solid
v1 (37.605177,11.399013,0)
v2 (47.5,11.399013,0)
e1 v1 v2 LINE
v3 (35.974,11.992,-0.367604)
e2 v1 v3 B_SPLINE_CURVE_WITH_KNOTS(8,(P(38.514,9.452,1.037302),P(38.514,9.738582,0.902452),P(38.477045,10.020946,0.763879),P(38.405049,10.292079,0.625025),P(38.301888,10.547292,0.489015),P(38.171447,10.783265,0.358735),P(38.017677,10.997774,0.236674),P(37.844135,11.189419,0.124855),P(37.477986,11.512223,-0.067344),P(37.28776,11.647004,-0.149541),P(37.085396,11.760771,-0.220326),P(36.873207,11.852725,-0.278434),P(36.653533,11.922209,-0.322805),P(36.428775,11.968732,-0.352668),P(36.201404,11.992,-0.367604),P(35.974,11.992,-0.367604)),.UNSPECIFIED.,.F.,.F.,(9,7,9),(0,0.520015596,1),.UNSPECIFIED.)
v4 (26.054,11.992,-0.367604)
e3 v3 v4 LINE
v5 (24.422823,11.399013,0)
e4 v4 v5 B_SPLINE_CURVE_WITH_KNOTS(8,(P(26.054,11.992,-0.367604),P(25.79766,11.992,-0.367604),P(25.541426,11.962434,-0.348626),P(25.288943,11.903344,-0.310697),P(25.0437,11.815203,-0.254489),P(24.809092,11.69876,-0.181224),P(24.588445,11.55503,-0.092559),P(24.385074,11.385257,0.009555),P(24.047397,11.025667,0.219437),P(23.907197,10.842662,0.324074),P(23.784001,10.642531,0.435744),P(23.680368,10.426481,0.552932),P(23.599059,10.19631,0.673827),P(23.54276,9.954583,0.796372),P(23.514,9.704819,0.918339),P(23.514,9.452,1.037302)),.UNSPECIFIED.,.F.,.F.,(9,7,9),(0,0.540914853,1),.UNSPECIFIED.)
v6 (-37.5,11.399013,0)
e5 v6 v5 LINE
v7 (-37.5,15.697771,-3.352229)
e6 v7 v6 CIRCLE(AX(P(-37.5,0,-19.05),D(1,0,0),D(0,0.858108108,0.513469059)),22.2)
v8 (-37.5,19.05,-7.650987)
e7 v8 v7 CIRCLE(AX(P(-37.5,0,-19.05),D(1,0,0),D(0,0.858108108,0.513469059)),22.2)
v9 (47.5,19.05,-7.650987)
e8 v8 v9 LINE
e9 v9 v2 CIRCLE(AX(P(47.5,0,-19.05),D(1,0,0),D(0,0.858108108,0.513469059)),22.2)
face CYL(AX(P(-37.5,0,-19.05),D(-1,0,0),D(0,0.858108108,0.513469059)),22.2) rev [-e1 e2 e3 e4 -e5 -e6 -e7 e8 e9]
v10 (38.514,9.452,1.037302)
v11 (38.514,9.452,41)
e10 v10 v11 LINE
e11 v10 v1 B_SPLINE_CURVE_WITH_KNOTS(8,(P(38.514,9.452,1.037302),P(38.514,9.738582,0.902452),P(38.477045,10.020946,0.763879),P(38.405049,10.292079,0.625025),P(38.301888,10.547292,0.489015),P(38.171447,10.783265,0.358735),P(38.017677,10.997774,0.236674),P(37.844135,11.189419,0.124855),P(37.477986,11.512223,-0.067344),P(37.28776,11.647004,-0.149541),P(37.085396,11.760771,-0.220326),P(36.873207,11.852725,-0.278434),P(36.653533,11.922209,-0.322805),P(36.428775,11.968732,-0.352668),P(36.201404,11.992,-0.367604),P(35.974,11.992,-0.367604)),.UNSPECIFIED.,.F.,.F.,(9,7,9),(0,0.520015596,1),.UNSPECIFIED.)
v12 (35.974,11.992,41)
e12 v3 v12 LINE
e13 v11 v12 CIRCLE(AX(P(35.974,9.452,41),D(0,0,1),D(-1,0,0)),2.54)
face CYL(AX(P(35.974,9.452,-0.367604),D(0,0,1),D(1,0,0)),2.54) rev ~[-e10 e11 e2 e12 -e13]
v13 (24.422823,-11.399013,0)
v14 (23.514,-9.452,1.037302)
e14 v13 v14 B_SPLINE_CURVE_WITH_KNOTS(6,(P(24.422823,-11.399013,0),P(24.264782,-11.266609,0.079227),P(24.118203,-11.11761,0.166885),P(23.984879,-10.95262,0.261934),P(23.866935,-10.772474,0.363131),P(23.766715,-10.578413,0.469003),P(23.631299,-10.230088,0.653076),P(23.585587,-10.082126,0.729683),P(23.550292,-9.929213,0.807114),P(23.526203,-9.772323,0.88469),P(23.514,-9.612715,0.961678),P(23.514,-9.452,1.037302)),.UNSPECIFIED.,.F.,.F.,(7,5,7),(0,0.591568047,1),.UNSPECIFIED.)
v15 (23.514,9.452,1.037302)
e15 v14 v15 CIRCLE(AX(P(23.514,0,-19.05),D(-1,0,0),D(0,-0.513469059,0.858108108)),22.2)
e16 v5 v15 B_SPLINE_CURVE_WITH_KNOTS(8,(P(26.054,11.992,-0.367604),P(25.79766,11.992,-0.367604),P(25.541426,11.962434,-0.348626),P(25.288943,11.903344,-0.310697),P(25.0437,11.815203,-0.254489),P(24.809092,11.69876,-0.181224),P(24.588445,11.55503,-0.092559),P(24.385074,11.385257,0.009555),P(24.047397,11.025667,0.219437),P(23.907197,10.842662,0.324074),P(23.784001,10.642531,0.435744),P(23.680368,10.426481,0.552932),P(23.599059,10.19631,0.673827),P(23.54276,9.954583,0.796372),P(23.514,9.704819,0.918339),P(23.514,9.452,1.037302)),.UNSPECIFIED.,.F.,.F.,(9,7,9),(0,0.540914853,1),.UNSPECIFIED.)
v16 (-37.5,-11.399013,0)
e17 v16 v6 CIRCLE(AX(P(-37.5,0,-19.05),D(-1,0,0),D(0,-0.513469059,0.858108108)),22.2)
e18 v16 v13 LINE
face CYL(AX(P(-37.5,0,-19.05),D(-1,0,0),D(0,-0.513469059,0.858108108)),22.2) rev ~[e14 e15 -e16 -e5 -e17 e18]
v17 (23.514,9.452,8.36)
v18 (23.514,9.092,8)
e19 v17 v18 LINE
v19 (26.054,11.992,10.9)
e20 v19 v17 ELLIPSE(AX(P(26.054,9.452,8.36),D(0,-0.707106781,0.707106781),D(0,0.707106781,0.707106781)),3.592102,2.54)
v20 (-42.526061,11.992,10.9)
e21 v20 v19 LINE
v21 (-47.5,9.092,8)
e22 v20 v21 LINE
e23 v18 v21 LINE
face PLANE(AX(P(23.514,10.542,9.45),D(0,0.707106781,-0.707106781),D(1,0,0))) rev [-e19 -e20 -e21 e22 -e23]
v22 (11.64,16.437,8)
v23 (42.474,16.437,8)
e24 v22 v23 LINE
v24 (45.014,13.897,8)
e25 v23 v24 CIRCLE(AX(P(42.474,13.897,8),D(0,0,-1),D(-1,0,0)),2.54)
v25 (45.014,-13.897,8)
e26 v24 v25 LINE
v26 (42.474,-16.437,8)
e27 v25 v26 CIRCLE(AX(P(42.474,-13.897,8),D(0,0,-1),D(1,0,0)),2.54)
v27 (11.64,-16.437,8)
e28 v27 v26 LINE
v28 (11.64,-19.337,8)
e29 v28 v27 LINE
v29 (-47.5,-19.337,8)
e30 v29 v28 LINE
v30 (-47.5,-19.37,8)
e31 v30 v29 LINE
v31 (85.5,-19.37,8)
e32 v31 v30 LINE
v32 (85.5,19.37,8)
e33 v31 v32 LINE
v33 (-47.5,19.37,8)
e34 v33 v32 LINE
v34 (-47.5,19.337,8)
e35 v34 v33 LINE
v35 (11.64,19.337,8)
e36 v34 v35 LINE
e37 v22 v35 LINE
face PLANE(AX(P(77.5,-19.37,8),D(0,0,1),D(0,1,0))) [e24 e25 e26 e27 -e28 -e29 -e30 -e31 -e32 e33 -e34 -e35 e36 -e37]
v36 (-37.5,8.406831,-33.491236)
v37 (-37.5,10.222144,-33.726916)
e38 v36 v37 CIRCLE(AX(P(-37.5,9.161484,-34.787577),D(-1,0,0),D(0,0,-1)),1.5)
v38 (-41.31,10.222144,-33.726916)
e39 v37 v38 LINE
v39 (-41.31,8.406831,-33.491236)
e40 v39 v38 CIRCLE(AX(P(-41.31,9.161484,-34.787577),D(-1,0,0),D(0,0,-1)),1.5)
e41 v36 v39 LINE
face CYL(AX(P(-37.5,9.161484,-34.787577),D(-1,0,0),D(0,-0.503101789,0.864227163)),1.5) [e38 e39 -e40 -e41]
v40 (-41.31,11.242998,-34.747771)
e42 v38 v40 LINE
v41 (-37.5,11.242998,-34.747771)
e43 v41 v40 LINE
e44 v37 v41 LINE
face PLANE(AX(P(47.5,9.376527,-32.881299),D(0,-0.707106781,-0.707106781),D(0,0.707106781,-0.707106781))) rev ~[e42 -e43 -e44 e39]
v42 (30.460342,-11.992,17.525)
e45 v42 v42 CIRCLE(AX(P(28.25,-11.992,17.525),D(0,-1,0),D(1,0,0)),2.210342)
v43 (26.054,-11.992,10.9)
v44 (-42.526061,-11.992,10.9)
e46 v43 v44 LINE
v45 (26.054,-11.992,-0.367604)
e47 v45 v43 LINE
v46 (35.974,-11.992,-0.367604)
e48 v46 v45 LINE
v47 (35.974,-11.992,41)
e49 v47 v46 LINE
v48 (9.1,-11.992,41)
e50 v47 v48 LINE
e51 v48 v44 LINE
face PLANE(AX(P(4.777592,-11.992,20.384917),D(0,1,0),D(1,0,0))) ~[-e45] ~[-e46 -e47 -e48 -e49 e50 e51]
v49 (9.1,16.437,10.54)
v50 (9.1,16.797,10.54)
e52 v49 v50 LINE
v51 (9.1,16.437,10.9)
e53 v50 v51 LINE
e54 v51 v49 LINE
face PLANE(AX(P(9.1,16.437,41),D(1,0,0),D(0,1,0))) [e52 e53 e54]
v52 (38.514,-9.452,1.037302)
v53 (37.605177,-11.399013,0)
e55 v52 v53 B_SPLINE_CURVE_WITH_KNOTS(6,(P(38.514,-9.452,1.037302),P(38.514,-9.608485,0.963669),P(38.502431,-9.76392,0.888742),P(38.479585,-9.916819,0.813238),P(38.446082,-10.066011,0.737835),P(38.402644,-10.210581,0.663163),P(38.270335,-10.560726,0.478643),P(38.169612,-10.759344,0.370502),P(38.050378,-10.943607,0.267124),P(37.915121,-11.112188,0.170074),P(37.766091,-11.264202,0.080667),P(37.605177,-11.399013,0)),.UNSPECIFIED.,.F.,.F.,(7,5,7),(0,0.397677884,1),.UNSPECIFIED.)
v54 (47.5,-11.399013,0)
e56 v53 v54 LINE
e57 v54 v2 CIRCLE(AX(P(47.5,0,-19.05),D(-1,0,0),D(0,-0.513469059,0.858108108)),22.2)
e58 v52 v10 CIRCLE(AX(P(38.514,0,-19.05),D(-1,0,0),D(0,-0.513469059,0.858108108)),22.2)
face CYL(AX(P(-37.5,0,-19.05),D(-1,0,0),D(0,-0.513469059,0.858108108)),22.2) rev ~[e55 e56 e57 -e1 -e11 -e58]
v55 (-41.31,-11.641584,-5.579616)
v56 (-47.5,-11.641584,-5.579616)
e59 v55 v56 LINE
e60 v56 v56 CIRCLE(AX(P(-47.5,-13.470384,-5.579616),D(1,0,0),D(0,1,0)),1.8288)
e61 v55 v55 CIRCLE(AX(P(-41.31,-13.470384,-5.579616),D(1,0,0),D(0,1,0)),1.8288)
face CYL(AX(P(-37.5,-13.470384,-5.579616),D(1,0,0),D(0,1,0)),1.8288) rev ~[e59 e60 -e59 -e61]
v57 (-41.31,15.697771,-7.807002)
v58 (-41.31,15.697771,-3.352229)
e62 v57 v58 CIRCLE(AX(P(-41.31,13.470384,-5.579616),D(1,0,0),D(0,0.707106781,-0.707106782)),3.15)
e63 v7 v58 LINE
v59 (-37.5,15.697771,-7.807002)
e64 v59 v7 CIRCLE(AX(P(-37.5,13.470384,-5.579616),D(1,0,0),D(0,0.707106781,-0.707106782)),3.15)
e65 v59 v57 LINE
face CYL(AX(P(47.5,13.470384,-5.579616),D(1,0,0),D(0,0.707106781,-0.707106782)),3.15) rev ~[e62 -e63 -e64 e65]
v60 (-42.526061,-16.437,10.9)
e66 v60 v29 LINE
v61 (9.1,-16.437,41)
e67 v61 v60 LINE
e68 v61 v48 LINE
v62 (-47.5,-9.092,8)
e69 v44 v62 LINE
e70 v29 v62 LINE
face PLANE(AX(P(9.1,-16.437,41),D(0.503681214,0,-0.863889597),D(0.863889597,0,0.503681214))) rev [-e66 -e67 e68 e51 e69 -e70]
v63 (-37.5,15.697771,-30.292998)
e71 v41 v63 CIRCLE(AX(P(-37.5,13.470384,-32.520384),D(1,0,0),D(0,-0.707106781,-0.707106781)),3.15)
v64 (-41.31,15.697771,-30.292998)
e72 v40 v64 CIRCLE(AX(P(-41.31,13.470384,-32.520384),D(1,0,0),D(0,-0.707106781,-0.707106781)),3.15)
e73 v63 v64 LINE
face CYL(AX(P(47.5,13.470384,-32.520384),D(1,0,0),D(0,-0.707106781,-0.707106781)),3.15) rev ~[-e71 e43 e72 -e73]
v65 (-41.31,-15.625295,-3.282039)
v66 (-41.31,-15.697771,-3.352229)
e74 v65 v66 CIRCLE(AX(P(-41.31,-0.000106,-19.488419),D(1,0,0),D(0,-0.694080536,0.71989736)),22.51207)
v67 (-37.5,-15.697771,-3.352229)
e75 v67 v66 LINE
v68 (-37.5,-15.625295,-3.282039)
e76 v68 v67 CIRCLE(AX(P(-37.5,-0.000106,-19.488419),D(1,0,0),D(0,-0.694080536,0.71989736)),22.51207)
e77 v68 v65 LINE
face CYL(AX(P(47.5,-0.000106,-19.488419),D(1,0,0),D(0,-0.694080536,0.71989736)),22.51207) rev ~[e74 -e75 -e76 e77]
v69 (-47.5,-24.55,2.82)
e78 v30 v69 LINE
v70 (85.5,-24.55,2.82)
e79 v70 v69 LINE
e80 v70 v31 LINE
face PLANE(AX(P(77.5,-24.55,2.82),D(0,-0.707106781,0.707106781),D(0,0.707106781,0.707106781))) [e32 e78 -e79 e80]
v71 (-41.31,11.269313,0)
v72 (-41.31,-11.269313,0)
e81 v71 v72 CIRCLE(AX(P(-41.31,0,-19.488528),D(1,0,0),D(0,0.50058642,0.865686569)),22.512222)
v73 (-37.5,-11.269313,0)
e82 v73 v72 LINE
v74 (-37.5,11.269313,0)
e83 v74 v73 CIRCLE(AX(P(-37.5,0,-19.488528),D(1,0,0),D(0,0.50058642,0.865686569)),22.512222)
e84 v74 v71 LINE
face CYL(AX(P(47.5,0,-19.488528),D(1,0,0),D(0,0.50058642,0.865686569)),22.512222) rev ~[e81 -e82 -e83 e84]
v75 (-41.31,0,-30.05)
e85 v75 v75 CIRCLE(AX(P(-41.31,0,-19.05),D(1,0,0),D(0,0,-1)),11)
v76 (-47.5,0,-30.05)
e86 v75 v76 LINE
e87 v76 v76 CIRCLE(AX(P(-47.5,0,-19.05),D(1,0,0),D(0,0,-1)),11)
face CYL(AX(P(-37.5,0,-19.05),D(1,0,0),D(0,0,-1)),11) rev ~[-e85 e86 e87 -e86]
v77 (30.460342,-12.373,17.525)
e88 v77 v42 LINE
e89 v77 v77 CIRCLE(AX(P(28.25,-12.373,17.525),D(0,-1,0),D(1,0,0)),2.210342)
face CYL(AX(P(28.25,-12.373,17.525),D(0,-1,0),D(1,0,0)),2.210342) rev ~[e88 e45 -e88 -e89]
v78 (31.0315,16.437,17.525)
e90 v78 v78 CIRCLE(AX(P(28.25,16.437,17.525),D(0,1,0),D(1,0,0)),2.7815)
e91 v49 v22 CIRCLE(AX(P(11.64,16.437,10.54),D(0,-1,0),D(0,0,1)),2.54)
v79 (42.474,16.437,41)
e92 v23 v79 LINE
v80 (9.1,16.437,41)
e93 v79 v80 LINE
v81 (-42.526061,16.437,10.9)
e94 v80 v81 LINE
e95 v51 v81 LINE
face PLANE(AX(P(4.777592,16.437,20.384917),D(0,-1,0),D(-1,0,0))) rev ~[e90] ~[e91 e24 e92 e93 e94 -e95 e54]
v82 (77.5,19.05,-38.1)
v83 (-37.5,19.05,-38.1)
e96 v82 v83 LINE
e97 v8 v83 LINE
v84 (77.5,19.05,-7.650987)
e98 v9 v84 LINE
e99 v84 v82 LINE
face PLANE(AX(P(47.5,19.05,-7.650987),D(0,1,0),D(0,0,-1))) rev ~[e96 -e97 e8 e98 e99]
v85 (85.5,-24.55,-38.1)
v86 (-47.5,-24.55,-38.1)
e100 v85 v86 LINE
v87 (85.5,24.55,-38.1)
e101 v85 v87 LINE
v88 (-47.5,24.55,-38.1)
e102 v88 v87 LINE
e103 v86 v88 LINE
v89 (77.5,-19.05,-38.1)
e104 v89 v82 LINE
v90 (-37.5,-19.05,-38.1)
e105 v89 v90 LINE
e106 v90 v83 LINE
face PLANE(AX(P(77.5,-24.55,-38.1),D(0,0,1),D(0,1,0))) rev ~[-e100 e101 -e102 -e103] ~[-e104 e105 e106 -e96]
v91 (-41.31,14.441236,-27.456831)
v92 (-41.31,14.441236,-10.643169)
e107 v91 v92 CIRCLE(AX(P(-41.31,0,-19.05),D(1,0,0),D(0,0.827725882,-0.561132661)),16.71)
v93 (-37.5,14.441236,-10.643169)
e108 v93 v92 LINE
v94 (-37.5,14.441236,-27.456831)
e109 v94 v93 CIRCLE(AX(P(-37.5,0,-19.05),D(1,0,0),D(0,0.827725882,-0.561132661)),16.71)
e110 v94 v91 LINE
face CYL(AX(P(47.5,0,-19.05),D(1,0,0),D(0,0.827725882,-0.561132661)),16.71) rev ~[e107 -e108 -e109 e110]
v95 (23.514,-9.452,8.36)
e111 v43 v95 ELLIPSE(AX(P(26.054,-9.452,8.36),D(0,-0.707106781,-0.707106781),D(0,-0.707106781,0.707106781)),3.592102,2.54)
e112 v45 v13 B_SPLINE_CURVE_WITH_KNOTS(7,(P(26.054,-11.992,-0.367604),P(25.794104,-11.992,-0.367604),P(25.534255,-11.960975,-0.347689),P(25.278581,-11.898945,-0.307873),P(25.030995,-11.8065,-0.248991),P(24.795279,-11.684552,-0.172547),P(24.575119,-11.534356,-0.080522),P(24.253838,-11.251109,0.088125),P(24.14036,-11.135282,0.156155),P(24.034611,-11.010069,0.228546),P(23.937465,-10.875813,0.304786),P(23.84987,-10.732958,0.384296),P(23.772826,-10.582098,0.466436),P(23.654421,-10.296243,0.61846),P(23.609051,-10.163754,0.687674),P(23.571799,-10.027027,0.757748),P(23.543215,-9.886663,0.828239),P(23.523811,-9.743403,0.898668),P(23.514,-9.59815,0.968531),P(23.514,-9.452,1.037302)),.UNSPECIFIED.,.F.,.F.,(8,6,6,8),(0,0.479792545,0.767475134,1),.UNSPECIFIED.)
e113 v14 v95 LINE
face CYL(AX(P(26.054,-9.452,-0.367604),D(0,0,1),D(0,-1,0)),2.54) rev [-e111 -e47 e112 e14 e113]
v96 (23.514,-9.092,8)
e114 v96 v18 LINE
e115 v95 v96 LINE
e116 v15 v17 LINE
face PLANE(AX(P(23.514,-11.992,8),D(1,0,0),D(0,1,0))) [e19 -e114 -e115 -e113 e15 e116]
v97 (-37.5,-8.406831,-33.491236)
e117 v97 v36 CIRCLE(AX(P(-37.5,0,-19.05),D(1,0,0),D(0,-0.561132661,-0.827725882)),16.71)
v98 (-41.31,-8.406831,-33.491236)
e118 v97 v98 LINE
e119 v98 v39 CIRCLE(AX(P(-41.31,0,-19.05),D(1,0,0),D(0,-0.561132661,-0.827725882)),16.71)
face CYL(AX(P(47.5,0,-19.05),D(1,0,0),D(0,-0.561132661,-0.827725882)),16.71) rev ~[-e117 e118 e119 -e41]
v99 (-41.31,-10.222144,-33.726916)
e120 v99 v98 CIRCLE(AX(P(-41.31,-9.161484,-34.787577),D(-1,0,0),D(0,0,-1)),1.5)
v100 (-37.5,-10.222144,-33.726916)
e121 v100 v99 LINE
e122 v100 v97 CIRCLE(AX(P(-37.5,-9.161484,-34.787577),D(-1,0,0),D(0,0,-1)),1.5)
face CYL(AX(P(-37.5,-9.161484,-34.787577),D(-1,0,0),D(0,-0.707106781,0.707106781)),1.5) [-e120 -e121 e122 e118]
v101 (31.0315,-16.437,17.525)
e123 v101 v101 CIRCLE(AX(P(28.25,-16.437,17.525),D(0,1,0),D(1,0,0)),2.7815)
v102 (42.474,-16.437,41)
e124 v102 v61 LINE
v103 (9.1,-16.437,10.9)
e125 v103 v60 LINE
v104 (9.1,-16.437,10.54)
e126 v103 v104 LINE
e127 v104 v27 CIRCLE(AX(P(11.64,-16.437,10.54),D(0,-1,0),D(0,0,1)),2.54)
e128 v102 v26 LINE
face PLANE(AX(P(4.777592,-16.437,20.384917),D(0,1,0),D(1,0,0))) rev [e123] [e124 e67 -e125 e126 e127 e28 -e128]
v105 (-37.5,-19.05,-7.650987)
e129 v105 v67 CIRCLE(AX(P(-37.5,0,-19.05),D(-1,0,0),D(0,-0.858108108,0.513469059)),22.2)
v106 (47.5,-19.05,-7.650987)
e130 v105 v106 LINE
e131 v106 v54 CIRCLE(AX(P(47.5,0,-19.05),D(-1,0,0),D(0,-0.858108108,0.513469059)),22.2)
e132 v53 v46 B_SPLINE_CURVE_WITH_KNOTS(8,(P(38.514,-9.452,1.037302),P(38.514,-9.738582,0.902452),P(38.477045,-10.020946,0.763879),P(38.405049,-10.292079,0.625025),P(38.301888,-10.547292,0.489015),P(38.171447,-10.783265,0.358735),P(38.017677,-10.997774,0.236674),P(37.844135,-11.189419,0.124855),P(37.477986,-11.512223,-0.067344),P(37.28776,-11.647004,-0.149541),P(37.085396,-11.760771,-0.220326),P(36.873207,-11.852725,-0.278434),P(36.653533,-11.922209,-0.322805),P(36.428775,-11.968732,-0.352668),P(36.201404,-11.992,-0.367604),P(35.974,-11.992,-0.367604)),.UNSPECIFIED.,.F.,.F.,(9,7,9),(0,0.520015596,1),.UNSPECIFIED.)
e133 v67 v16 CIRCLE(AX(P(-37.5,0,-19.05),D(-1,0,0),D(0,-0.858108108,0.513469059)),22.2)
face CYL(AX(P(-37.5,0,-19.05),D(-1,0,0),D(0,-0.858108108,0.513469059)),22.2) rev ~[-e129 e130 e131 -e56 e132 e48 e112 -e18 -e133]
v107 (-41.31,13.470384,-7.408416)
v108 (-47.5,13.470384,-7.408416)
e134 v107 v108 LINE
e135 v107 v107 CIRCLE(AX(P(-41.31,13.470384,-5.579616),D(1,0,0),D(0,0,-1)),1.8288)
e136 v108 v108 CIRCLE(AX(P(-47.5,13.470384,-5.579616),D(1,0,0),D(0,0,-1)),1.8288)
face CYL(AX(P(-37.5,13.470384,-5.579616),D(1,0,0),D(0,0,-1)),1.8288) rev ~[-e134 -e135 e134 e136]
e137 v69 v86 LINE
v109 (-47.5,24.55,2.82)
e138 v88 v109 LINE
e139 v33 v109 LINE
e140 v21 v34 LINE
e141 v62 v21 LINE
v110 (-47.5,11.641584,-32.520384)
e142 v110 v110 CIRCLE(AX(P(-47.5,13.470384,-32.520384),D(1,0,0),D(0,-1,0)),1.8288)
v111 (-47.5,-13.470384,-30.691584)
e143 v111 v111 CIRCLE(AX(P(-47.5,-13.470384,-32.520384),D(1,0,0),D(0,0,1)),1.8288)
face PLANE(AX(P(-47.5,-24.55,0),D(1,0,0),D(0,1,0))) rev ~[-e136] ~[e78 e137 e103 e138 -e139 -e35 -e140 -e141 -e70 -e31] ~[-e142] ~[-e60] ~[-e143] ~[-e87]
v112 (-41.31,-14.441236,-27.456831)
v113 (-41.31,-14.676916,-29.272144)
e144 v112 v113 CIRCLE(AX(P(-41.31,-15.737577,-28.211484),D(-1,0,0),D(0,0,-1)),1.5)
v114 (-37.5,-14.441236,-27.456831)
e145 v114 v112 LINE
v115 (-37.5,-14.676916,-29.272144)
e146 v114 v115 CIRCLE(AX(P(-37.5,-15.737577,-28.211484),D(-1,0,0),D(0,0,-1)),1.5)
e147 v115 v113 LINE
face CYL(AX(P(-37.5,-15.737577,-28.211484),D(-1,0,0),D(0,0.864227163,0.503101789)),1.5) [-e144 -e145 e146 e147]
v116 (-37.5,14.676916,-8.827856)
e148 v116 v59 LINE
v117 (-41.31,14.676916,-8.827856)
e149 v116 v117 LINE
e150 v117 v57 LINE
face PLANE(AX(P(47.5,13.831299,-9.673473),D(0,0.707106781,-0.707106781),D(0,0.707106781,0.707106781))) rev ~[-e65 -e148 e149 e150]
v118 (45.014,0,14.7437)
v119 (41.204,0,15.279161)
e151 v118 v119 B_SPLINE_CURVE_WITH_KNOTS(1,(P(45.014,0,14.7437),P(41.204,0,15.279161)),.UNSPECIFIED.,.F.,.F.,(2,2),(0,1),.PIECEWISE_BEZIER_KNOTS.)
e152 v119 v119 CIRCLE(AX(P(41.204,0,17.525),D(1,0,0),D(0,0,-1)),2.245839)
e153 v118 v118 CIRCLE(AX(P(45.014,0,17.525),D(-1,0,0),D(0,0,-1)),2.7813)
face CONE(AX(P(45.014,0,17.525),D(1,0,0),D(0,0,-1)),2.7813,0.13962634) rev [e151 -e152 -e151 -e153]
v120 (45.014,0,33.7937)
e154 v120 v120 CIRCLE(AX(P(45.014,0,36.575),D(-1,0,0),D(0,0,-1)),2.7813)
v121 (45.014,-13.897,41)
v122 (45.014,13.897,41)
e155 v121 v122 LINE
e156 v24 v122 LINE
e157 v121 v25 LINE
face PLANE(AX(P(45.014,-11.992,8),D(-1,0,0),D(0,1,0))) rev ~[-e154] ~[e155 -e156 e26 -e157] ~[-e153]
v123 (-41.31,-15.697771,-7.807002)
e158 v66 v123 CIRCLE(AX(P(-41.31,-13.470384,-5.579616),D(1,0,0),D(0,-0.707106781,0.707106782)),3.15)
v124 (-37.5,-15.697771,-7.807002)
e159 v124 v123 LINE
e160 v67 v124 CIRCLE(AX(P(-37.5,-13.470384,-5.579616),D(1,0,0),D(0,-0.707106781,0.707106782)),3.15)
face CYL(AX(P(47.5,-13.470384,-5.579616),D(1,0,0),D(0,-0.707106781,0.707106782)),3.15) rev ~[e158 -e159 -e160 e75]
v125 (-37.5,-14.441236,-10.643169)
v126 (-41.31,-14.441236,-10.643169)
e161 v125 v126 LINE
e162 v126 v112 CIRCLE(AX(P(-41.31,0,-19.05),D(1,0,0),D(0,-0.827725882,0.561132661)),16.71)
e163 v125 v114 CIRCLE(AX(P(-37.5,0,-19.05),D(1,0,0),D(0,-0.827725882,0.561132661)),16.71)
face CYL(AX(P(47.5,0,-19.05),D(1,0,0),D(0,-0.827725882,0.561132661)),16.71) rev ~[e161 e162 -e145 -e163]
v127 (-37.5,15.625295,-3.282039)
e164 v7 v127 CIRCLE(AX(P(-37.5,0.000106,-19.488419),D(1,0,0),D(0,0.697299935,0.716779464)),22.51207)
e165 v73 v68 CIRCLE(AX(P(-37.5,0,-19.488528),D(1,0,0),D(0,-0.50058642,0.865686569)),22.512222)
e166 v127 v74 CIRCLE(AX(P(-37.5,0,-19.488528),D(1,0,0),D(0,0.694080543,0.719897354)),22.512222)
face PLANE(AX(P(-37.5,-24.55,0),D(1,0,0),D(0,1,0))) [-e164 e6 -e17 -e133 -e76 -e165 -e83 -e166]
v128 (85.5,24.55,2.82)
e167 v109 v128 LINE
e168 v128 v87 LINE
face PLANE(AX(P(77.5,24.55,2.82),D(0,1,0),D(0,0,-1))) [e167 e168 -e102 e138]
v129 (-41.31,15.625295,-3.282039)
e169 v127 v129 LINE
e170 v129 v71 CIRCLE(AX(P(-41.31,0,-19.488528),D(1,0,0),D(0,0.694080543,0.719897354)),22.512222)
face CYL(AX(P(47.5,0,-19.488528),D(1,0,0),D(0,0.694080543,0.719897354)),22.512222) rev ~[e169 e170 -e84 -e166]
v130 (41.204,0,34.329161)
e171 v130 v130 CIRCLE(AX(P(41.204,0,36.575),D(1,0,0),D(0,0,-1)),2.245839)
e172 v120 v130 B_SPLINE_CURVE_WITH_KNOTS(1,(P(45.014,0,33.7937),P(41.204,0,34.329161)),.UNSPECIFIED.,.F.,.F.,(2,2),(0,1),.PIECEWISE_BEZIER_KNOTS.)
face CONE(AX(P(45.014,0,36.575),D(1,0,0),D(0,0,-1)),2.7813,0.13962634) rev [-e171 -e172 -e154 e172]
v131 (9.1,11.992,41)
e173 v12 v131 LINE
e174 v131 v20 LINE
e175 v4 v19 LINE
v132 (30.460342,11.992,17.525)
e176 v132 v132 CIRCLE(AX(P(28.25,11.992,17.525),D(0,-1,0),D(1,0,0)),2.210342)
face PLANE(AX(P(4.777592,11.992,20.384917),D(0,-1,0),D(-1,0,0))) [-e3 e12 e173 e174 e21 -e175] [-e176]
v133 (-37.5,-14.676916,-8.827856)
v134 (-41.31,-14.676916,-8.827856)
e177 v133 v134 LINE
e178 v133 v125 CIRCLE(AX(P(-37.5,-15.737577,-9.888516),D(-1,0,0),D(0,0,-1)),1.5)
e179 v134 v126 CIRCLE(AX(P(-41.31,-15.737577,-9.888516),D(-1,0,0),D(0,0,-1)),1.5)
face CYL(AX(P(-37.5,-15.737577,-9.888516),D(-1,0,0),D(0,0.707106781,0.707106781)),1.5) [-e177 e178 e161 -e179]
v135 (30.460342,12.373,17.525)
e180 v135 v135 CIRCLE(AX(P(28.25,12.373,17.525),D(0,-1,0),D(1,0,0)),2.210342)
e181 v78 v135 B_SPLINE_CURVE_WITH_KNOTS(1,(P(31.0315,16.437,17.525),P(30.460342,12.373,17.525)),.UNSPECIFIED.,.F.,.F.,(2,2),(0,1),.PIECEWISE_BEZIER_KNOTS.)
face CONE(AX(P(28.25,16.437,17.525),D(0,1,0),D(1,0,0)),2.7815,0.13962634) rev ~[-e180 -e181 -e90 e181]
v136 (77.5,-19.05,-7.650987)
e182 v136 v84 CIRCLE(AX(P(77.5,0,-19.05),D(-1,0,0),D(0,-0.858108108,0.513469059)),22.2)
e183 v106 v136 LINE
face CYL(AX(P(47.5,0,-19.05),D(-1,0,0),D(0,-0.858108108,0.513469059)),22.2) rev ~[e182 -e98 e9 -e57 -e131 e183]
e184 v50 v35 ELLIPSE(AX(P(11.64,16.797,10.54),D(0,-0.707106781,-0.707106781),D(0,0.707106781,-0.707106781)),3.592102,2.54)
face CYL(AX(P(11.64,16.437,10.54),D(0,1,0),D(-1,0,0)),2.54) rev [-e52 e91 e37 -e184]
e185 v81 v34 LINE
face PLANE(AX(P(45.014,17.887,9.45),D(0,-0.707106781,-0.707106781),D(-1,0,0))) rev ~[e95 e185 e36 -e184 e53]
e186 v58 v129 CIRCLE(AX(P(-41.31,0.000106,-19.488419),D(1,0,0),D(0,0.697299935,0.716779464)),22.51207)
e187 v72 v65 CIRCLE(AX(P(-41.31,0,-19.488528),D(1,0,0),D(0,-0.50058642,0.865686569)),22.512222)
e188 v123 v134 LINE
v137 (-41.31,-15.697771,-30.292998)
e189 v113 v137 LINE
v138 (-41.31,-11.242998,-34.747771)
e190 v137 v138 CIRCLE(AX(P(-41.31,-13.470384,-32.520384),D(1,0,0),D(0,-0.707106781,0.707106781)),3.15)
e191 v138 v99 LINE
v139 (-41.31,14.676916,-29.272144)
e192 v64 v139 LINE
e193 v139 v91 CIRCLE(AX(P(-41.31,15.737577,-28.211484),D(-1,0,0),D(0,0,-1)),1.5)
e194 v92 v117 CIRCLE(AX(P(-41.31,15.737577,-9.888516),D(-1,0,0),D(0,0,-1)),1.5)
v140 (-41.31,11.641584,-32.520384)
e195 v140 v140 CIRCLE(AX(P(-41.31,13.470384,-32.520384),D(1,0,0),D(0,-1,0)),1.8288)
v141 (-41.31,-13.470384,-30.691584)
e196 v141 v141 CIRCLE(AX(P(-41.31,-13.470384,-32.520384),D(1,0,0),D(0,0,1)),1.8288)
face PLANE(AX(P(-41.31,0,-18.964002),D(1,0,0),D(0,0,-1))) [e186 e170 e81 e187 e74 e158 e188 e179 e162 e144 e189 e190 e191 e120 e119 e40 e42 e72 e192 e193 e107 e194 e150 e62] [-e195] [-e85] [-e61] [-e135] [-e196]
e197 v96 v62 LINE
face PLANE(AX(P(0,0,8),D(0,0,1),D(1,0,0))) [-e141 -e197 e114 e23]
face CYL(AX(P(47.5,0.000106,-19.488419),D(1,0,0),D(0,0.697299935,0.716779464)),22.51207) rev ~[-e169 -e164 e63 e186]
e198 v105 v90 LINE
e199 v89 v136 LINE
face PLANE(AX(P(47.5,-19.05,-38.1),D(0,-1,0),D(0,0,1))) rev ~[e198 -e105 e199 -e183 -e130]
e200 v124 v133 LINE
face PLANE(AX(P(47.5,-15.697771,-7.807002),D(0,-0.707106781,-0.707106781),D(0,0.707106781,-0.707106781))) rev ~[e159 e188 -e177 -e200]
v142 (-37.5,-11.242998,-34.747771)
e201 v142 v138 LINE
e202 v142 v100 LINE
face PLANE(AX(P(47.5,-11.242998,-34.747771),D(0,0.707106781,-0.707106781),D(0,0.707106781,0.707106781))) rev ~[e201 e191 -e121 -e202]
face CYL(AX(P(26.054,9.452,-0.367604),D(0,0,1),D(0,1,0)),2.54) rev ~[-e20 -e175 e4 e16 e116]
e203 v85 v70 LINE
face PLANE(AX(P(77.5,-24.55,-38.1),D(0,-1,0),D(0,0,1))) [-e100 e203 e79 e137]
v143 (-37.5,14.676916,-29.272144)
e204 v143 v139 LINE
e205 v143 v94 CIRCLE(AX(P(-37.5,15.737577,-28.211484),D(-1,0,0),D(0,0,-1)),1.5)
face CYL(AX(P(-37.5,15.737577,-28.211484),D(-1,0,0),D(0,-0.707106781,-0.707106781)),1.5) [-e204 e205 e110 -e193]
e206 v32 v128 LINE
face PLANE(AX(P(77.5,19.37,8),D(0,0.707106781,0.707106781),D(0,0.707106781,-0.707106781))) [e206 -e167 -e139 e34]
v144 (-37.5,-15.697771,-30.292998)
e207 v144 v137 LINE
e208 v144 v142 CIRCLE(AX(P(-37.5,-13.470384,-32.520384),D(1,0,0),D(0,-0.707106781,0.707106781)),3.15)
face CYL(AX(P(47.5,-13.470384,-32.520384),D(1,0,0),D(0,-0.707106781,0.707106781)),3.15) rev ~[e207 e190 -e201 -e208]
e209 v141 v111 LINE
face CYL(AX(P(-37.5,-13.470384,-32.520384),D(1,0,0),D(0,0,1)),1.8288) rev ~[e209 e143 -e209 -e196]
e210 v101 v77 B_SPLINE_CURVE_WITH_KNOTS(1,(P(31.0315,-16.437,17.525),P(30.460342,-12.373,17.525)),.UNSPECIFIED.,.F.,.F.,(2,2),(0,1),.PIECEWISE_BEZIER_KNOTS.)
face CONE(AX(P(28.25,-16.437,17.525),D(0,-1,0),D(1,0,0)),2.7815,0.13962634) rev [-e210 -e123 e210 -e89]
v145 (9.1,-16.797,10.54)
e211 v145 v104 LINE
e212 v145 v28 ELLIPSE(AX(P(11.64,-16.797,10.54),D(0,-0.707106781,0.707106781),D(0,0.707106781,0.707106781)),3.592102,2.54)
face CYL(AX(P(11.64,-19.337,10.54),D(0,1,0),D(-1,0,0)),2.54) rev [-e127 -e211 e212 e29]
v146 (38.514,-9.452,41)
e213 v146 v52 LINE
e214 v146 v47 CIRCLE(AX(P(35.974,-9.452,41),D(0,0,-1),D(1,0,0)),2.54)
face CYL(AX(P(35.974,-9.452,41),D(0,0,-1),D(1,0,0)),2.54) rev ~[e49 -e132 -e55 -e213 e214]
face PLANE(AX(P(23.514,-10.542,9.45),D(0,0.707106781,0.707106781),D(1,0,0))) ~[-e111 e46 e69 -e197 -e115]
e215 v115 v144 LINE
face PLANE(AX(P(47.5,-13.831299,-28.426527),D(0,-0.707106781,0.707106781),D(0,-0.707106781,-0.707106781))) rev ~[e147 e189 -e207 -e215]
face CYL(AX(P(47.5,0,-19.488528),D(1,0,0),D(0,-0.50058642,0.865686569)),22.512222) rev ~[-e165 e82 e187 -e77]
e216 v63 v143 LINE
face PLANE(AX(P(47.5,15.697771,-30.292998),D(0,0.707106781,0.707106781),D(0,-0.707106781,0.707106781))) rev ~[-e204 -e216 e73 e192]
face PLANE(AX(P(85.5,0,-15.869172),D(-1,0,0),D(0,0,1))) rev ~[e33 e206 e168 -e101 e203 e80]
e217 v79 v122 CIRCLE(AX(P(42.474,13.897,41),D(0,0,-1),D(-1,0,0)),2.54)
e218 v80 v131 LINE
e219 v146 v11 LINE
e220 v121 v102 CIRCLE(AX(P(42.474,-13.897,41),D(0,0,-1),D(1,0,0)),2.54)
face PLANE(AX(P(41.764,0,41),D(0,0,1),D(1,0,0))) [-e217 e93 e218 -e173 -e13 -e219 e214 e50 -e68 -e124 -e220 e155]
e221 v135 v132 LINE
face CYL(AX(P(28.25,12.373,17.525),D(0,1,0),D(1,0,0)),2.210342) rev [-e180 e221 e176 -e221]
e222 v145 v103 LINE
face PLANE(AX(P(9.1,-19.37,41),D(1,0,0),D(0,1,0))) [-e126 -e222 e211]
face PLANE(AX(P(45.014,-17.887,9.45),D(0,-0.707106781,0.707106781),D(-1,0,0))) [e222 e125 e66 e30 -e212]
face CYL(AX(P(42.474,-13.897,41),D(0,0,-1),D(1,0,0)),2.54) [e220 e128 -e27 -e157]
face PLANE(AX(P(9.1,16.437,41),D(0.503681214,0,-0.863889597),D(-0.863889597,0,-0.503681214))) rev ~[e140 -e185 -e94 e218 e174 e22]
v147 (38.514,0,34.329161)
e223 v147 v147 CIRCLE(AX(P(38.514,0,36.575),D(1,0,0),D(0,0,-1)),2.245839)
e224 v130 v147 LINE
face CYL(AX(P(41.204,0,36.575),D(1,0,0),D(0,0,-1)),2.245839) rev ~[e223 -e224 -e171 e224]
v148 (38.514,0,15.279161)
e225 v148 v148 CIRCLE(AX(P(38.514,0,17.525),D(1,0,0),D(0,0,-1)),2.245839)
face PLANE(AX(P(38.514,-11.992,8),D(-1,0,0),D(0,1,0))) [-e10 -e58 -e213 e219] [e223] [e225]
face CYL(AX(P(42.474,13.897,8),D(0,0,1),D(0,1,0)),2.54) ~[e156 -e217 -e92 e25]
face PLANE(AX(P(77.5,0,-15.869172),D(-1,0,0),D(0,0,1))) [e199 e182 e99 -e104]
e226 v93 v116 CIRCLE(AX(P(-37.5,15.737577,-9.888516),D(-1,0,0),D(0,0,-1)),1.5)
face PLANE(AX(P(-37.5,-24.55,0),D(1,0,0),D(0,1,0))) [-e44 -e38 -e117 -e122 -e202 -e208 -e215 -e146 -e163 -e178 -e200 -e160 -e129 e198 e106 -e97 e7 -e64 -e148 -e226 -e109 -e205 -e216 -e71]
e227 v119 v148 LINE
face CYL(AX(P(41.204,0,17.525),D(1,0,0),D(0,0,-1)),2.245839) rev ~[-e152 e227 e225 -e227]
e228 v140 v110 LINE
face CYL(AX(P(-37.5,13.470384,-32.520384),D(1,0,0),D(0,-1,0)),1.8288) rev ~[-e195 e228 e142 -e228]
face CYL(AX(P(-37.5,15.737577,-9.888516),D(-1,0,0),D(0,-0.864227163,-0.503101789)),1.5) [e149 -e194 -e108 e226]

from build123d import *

# Parameters (mm, degrees)
SKETCH1_W                    = 95
SKETCH1_H                    = 49.1
BOSS_EXTRUDE1_DEPTH          = 8
SKETCH3_W                    = 10
SKETCH3_H                    = 49.1
BOSS_EXTRUDE2_DEPTH          = 38.1
SKETCH4_R                    = 1.8288
F_6_THRU_MOUNTING_HOLE_DEPTH = 11
SKETCH5_R                    = 11
CUT_EXTRUDE2_DEPTH           = 11
CIRPATTERN1_COUNT            = 4
SKETCH7_W                    = 85
SKETCH7_H                    = 38.1
BOSS_EXTRUDE5_DEPTH          = 5.5
CUT_EXTRUDE3_DEPTH           = 88.81
FILLET1_R                    = 1.5
BOSS_EXTRUDE7_DEPTH          = 4.445
SKETCH15_W                   = 6.5
SKETCH15_H                   = 23.984
BOSS_EXTRUDE8_DEPTH          = 33
CUT_EXTRUDE7_DEPTH           = 85
BOSS_EXTRUDE9_DEPTH          = 85
BOSS_EXTRUDE10_DEPTH         = 30
CHAMFER3_SIZE                = 5.18
CUT_EXTRUDE9_REACH           = 48.1
SKETCH20_W                   = 15
SKETCH20_H                   = 23.984
CHAMFER4_SIZE                = 2.9
SKETCH21_W                   = 35.914
SKETCH21_H                   = 2.9
SKETCH21_H_2                 = 2.933
CUT_EXTRUDE10_DEPTH          = 33
FILLET5_R                    = 2.54
SKETCH22_R                   = 2.7813
CUT_EXTRUDE11_DEPTH          = 3.81
CUT_EXTRUDE11_TAPER          = 8
CUT_EXTRUDE12_REACH          = 90.704
SKETCH23_R                   = 2.24583942
BOSS_EXTRUDE11_DEPTH         = 8
SKETCH25_R                   = 2.7815
CUT_EXTRUDE13_DEPTH          = 4.064
CUT_EXTRUDE13_TAPER          = 8
SKETCH26_R                   = 2.210342048
CUT_EXTRUDE14_DEPTH          = 0.381


with BuildPart() as part:
    # Sketch1 → Boss-Extrude1 (new body)
    with BuildSketch(Plane.XY):
        Rectangle(SKETCH1_W, SKETCH1_H)
    extrude(amount=BOSS_EXTRUDE1_DEPTH)

    # Sketch3 → Boss-Extrude2 (add)
    with BuildSketch(Plane(origin=(0, 0, 0), x_dir=(-1, 0, 0), z_dir=(0, 0, -1))):
        with Locations((42.5, 0)):
            Rectangle(SKETCH3_W, SKETCH3_H)
    extrude(amount=BOSS_EXTRUDE2_DEPTH)

    # Sketch4 → #6 Thru Mounting hole (cut, through all)
    with BuildSketch(Plane(origin=(-37.5, 0, 0), x_dir=(0, 0, -1), z_dir=(1, 0, 0))):
        with Locations((5.579615818, 13.470384182)):
            Circle(SKETCH4_R)
    f_6_thru_mounting_hole = extrude(amount=-F_6_THRU_MOUNTING_HOLE_DEPTH, mode=Mode.SUBTRACT)

    # Sketch5 → Cut-Extrude2 (cut, through all)
    with BuildSketch(Plane(origin=(-37.5, 0, 0), x_dir=(0, 0, -1), z_dir=(1, 0, 0))):
        with Locations((19.05, 0)):
            Circle(SKETCH5_R)
    extrude(amount=-CUT_EXTRUDE2_DEPTH, mode=Mode.SUBTRACT)

    # CirPattern1: #6 Thru Mounting hole ×4 about axis
    cirpattern1_axis = Axis((0, 0, -19.05), (1, 0, 0))
    for i in range(1, CIRPATTERN1_COUNT):
        add(f_6_thru_mounting_hole.rotate(cirpattern1_axis, i * 360 / CIRPATTERN1_COUNT), mode=Mode.SUBTRACT)

    # Sketch7 → Boss-Extrude5 (add)
    with BuildSketch(Plane(origin=(0, 24.55, 0), x_dir=(1, 0, 0), z_dir=(0, 1, 0))):
        with Locations((5, 19.05)):
            Rectangle(SKETCH7_W, SKETCH7_H)
    boss_extrude5 = extrude(amount=-BOSS_EXTRUDE5_DEPTH)

    # Mirror1: Boss-Extrude5 across plane
    add(boss_extrude5.mirror(Plane.ZX))

    # Sketch8 → Cut-Extrude3 (cut)
    with BuildSketch(Plane(origin=(47.5, 0, 0), x_dir=(0, 0, -1), z_dir=(1, 0, 0))):
        with BuildLine():
            Line((9.673473228, 13.831299494), (7.807002179, 15.697770542))
            ThreePointArc((7.807002179, 15.697770542), (5.579615818, 16.620384182), (3.352229458, 15.697770542))
            ThreePointArc((3.352229458, 15.697770542), (3.31709371, 15.661572196), (3.282039166, 15.625295207))
            ThreePointArc((3.282039166, 15.625295207), (2.430019787, 13.419937796), (3.352229458, 11.242997821))
            Line((3.352229458, 11.242997821), (5.218700506, 9.376526772))
            ThreePointArc((5.218700506, 9.376526772), (2.34, 0), (5.218700506, -9.376526772))
            Line((5.218700506, -9.376526772), (3.352229458, -11.242997821))
            ThreePointArc((3.352229458, -11.242997821), (2.430019787, -13.419937796), (3.282039166, -15.625295207))
            ThreePointArc((3.282039166, -15.625295207), (3.31709371, -15.661572196), (3.352229458, -15.697770542))
            ThreePointArc((3.352229458, -15.697770542), (5.579615818, -16.620384182), (7.807002179, -15.697770542))
            Line((7.807002179, -15.697770542), (9.673473228, -13.831299494))
            ThreePointArc((9.673473228, -13.831299494), (19.05, -16.71), (28.426526772, -13.831299494))
            Line((28.426526772, -13.831299494), (30.292997821, -15.697770542))
            ThreePointArc((30.292997821, -15.697770542), (34.747770542, -15.697770542), (34.747770542, -11.242997821))
            Line((34.747770542, -11.242997821), (32.881299494, -9.376526772))
            ThreePointArc((32.881299494, -9.376526772), (35.76, 0), (32.881299494, 9.376526772))
            Line((32.881299494, 9.376526772), (34.747770542, 11.242997821))
            ThreePointArc((34.747770542, 11.242997821), (34.747770542, 15.697770542), (30.292997821, 15.697770542))
            Line((30.292997821, 15.697770542), (28.426526772, 13.831299494))
            ThreePointArc((28.426526772, 13.831299494), (19.05, 16.71), (9.673473228, 13.831299494))
        make_face()
        with BuildLine():
            ThreePointArc((3.352229458, 11.242997821), (2.430019787, 13.419937796), (3.282039166, 15.625295207))
            ThreePointArc((3.282039166, 15.625295207), (1.50861691, 13.547063418), (0, 11.269312578))
            Line((0, 11.269312578), (0, -11.269312578))
            ThreePointArc((0, -11.269312578), (1.50861691, -13.547063418), (3.282039166, -15.625295207))
            ThreePointArc((3.282039166, -15.625295207), (2.430019787, -13.419937796), (3.352229458, -11.242997821))
            Line((3.352229458, -11.242997821), (5.218700506, -9.376526772))
            ThreePointArc((5.218700506, -9.376526772), (2.34, 0), (5.218700506, 9.376526772))
            Line((5.218700506, 9.376526772), (3.352229458, 11.242997821))
        make_face()
        with BuildLine():
            Line((0, -11.269312578), (0, 11.269312578))
            ThreePointArc((0, 11.269312578), (-3.023693761, 0), (0, -11.269312578))
        make_face()
    extrude(amount=-CUT_EXTRUDE3_DEPTH, mode=Mode.SUBTRACT)

    # Fillet1
    fillet1_edges = [part.edges().sort_by_distance(p)[0] for p in [
        (-39.405, 13.831299494, -9.673473228),
        (-39.405, 13.831299494, -28.426526772),
        (-39.405, 9.376526772, -32.881299494),
        (-39.405, -9.376526772, -32.881299494),
        (-39.405, -13.831299494, -28.426526772),
        (-39.405, -13.831299494, -9.673473228),
    ]]
    fillet(fillet1_edges, radius=FILLET1_R)

    # Sketch14 → Boss-Extrude7 (add)
    with BuildSketch(Plane(origin=(0, 16.437, 0), x_dir=(1, 0, 0), z_dir=(0, 1, 0))):
        Polygon((45.014, -8), (45.014, -41), (9.1, -41), (-47.5, -8), (9.1, -8), align=None)
    boss_extrude7 = extrude(amount=-BOSS_EXTRUDE7_DEPTH)

    # Mirror2: Boss-Extrude7 across plane
    add(boss_extrude7.mirror(Plane.ZX))

    # Sketch15 → Boss-Extrude8 (add)
    with BuildSketch(Plane.XY.offset(8)):
        with Locations((41.764, 0)):
            Rectangle(SKETCH15_W, SKETCH15_H)
    extrude(amount=BOSS_EXTRUDE8_DEPTH)

    # Sketch16 → Cut-Extrude7 (cut)
    with BuildSketch(Plane(origin=(-37.5, 0, 0), x_dir=(0, 0, -1), z_dir=(1, 0, 0))):
        with BuildLine():
            Line((0, 11.399013115), (0, -11.399013115))
            ThreePointArc((0, -11.399013115), (-3.15, 0), (0, 11.399013115))
        make_face()
    extrude(amount=CUT_EXTRUDE7_DEPTH, mode=Mode.SUBTRACT)

    # Sketch17 → Boss-Extrude9 (add)
    with BuildSketch(Plane(origin=(-37.5, 0, 0), x_dir=(0, 0, -1), z_dir=(1, 0, 0))):
        with BuildLine():
            Line((0, 11.399013115), (0, 19.05))
            Line((0, 19.05), (7.650986885, 19.05))
            ThreePointArc((7.650986885, 19.05), (3.352229458, 15.697770542), (0, 11.399013115))
        make_face()
        with BuildLine():
            Line((0, -19.05), (7.650986885, -19.05))
            ThreePointArc((7.650986885, -19.05), (3.352229458, -15.697770542), (0, -11.399013115))
            Line((0, -11.399013115), (0, -19.05))
        make_face()
    extrude(amount=BOSS_EXTRUDE9_DEPTH)

    # Sketch19 → Boss-Extrude10 (add)
    with BuildSketch(Plane(origin=(47.5, 0, 0), x_dir=(0, 0, -1), z_dir=(1, 0, 0))):
        with BuildLine():
            Line((38.1, -19.05), (7.650986885, -19.05))
            ThreePointArc((7.650986885, -19.05), (-3.15, 0), (7.650986885, 19.05))
            Line((7.650986885, 19.05), (38.1, 19.05))
            Line((38.1, 19.05), (38.1, 24.55))
            Line((38.1, 24.55), (-8, 24.55))
            Line((-8, 24.55), (-8, -24.55))
            Line((-8, -24.55), (38.1, -24.55))
            Line((38.1, -24.55), (38.1, -19.05))
        make_face()
    extrude(amount=BOSS_EXTRUDE10_DEPTH)

    # Chamfer3
    chamfer3_edges = [part.edges().sort_by_distance(p)[0] for p in [
        (15, -24.55, 8),
        (15, 24.55, 8),
    ]]
    chamfer(chamfer3_edges, length=CHAMFER3_SIZE)

    # Sketch20 → Cut-Extrude9 (cut, up to next)
    with BuildSketch(Plane.XY.offset(8), mode=Mode.PRIVATE) as cut_extrude9_sk1:
        with Locations((31.014, 0)):
            Rectangle(SKETCH20_W, SKETCH20_H)
    cut_extrude9_tool1 = extrude(cut_extrude9_sk1.sketch, amount=-CUT_EXTRUDE9_REACH, mode=Mode.PRIVATE) & part.part
    add(cut_extrude9_tool1.solids().sort_by_distance((31.014, 0, 8))[0], mode=Mode.SUBTRACT)

    # Chamfer4
    chamfer4_edges = [part.edges().sort_by_distance(p)[0] for p in [
        (-1.243, 16.437, 8),
        (-1.243, -16.437, 8),
        (-11.993, -11.992, 8),
        (-11.993, 11.992, 8),
    ]]
    chamfer(chamfer4_edges, length=CHAMFER4_SIZE)

    # Sketch21 → Cut-Extrude10 (cut)
    with BuildSketch(Plane.XY.offset(41)):
        with Locations((27.057, 17.887)):
            Rectangle(SKETCH21_W, SKETCH21_H)
        with Locations((27.057, -17.9035)):
            Rectangle(SKETCH21_W, SKETCH21_H_2)
    extrude(amount=-CUT_EXTRUDE10_DEPTH, mode=Mode.SUBTRACT)

    # Fillet5
    fillet5_edges = [part.edges().sort_by_distance(p)[0] for p in [
        (45.014, 16.437, 24.5),
        (45.014, -16.437, 24.5),
        (38.514, 11.992, 20.31619821),
        (38.514, -11.992, 20.31619821),
        (23.514, -11.992, 5.26619821),
        (23.514, 11.992, 5.26619821),
        (9.1, 17.887, 8),
        (9.1, -17.887, 8),
    ]]
    fillet(fillet5_edges, radius=FILLET5_R)

    # Sketch22 → Cut-Extrude11 (cut)
    with BuildSketch(Plane(origin=(45.014, 0, 0), x_dir=(0, 0, -1), z_dir=(1, 0, 0))):
        with Locations((-17.525, 0)):
            Circle(SKETCH22_R)
        with Locations((-36.575, 0)):
            Circle(SKETCH22_R)
    extrude(amount=-CUT_EXTRUDE11_DEPTH, taper=CUT_EXTRUDE11_TAPER, mode=Mode.SUBTRACT)

    # Sketch23 → Cut-Extrude12 (cut, up to next)
    with BuildSketch(Plane(origin=(41.204, 0, 0), x_dir=(0, 0, -1), z_dir=(1, 0, 0)), mode=Mode.PRIVATE) as cut_extrude12_sk1:
        with Locations((-17.525, 0)):
            Circle(SKETCH23_R)
    cut_extrude12_tool1 = extrude(cut_extrude12_sk1.sketch, amount=-CUT_EXTRUDE12_REACH, mode=Mode.PRIVATE) & part.part
    add(cut_extrude12_tool1.solids().sort_by_distance((41.204, 0, 17.525))[0], mode=Mode.SUBTRACT)
    # Sketch23 → Cut-Extrude12 (cut, up to next)
    with BuildSketch(Plane(origin=(41.204, 0, 0), x_dir=(0, 0, -1), z_dir=(1, 0, 0)), mode=Mode.PRIVATE) as cut_extrude12_sk2:
        with Locations((-36.575, 0)):
            Circle(SKETCH23_R)
    cut_extrude12_tool2 = extrude(cut_extrude12_sk2.sketch, amount=-CUT_EXTRUDE12_REACH, mode=Mode.PRIVATE) & part.part
    add(cut_extrude12_tool2.solids().sort_by_distance((41.204, 0, 36.575))[0], mode=Mode.SUBTRACT)

    # Sketch24 → Boss-Extrude11 (add)
    with BuildSketch(Plane(origin=(77.5, 0, 0), x_dir=(0, 0, -1), z_dir=(1, 0, 0))):
        Polygon((38.1, 19.05), (38.1, -19.05), (38.1, -24.55), (-2.82, -24.55), (-8, -19.37), (-8, 19.37), (-2.82, 24.55), (38.1, 24.55), align=None)
    extrude(amount=BOSS_EXTRUDE11_DEPTH)

    # Sketch25 → Cut-Extrude13 (cut)
    with BuildSketch(Plane.XZ.offset(16.437)):
        with Locations((28.25, 17.525)):
            Circle(SKETCH25_R)
    cut_extrude13 = extrude(amount=-CUT_EXTRUDE13_DEPTH, taper=CUT_EXTRUDE13_TAPER, mode=Mode.SUBTRACT)

    # Sketch26 → Cut-Extrude14 (cut)
    with BuildSketch(Plane.XZ.offset(12.373)):
        with Locations((28.25, 17.525)):
            Circle(SKETCH26_R)
    cut_extrude14 = extrude(amount=-CUT_EXTRUDE14_DEPTH, mode=Mode.SUBTRACT)

    # Mirror3: Cut-Extrude13, Cut-Extrude14 across plane
    add(cut_extrude13.mirror(Plane.ZX), mode=Mode.SUBTRACT)
    add(cut_extrude14.mirror(Plane.ZX), mode=Mode.SUBTRACT)


solid = part.part
